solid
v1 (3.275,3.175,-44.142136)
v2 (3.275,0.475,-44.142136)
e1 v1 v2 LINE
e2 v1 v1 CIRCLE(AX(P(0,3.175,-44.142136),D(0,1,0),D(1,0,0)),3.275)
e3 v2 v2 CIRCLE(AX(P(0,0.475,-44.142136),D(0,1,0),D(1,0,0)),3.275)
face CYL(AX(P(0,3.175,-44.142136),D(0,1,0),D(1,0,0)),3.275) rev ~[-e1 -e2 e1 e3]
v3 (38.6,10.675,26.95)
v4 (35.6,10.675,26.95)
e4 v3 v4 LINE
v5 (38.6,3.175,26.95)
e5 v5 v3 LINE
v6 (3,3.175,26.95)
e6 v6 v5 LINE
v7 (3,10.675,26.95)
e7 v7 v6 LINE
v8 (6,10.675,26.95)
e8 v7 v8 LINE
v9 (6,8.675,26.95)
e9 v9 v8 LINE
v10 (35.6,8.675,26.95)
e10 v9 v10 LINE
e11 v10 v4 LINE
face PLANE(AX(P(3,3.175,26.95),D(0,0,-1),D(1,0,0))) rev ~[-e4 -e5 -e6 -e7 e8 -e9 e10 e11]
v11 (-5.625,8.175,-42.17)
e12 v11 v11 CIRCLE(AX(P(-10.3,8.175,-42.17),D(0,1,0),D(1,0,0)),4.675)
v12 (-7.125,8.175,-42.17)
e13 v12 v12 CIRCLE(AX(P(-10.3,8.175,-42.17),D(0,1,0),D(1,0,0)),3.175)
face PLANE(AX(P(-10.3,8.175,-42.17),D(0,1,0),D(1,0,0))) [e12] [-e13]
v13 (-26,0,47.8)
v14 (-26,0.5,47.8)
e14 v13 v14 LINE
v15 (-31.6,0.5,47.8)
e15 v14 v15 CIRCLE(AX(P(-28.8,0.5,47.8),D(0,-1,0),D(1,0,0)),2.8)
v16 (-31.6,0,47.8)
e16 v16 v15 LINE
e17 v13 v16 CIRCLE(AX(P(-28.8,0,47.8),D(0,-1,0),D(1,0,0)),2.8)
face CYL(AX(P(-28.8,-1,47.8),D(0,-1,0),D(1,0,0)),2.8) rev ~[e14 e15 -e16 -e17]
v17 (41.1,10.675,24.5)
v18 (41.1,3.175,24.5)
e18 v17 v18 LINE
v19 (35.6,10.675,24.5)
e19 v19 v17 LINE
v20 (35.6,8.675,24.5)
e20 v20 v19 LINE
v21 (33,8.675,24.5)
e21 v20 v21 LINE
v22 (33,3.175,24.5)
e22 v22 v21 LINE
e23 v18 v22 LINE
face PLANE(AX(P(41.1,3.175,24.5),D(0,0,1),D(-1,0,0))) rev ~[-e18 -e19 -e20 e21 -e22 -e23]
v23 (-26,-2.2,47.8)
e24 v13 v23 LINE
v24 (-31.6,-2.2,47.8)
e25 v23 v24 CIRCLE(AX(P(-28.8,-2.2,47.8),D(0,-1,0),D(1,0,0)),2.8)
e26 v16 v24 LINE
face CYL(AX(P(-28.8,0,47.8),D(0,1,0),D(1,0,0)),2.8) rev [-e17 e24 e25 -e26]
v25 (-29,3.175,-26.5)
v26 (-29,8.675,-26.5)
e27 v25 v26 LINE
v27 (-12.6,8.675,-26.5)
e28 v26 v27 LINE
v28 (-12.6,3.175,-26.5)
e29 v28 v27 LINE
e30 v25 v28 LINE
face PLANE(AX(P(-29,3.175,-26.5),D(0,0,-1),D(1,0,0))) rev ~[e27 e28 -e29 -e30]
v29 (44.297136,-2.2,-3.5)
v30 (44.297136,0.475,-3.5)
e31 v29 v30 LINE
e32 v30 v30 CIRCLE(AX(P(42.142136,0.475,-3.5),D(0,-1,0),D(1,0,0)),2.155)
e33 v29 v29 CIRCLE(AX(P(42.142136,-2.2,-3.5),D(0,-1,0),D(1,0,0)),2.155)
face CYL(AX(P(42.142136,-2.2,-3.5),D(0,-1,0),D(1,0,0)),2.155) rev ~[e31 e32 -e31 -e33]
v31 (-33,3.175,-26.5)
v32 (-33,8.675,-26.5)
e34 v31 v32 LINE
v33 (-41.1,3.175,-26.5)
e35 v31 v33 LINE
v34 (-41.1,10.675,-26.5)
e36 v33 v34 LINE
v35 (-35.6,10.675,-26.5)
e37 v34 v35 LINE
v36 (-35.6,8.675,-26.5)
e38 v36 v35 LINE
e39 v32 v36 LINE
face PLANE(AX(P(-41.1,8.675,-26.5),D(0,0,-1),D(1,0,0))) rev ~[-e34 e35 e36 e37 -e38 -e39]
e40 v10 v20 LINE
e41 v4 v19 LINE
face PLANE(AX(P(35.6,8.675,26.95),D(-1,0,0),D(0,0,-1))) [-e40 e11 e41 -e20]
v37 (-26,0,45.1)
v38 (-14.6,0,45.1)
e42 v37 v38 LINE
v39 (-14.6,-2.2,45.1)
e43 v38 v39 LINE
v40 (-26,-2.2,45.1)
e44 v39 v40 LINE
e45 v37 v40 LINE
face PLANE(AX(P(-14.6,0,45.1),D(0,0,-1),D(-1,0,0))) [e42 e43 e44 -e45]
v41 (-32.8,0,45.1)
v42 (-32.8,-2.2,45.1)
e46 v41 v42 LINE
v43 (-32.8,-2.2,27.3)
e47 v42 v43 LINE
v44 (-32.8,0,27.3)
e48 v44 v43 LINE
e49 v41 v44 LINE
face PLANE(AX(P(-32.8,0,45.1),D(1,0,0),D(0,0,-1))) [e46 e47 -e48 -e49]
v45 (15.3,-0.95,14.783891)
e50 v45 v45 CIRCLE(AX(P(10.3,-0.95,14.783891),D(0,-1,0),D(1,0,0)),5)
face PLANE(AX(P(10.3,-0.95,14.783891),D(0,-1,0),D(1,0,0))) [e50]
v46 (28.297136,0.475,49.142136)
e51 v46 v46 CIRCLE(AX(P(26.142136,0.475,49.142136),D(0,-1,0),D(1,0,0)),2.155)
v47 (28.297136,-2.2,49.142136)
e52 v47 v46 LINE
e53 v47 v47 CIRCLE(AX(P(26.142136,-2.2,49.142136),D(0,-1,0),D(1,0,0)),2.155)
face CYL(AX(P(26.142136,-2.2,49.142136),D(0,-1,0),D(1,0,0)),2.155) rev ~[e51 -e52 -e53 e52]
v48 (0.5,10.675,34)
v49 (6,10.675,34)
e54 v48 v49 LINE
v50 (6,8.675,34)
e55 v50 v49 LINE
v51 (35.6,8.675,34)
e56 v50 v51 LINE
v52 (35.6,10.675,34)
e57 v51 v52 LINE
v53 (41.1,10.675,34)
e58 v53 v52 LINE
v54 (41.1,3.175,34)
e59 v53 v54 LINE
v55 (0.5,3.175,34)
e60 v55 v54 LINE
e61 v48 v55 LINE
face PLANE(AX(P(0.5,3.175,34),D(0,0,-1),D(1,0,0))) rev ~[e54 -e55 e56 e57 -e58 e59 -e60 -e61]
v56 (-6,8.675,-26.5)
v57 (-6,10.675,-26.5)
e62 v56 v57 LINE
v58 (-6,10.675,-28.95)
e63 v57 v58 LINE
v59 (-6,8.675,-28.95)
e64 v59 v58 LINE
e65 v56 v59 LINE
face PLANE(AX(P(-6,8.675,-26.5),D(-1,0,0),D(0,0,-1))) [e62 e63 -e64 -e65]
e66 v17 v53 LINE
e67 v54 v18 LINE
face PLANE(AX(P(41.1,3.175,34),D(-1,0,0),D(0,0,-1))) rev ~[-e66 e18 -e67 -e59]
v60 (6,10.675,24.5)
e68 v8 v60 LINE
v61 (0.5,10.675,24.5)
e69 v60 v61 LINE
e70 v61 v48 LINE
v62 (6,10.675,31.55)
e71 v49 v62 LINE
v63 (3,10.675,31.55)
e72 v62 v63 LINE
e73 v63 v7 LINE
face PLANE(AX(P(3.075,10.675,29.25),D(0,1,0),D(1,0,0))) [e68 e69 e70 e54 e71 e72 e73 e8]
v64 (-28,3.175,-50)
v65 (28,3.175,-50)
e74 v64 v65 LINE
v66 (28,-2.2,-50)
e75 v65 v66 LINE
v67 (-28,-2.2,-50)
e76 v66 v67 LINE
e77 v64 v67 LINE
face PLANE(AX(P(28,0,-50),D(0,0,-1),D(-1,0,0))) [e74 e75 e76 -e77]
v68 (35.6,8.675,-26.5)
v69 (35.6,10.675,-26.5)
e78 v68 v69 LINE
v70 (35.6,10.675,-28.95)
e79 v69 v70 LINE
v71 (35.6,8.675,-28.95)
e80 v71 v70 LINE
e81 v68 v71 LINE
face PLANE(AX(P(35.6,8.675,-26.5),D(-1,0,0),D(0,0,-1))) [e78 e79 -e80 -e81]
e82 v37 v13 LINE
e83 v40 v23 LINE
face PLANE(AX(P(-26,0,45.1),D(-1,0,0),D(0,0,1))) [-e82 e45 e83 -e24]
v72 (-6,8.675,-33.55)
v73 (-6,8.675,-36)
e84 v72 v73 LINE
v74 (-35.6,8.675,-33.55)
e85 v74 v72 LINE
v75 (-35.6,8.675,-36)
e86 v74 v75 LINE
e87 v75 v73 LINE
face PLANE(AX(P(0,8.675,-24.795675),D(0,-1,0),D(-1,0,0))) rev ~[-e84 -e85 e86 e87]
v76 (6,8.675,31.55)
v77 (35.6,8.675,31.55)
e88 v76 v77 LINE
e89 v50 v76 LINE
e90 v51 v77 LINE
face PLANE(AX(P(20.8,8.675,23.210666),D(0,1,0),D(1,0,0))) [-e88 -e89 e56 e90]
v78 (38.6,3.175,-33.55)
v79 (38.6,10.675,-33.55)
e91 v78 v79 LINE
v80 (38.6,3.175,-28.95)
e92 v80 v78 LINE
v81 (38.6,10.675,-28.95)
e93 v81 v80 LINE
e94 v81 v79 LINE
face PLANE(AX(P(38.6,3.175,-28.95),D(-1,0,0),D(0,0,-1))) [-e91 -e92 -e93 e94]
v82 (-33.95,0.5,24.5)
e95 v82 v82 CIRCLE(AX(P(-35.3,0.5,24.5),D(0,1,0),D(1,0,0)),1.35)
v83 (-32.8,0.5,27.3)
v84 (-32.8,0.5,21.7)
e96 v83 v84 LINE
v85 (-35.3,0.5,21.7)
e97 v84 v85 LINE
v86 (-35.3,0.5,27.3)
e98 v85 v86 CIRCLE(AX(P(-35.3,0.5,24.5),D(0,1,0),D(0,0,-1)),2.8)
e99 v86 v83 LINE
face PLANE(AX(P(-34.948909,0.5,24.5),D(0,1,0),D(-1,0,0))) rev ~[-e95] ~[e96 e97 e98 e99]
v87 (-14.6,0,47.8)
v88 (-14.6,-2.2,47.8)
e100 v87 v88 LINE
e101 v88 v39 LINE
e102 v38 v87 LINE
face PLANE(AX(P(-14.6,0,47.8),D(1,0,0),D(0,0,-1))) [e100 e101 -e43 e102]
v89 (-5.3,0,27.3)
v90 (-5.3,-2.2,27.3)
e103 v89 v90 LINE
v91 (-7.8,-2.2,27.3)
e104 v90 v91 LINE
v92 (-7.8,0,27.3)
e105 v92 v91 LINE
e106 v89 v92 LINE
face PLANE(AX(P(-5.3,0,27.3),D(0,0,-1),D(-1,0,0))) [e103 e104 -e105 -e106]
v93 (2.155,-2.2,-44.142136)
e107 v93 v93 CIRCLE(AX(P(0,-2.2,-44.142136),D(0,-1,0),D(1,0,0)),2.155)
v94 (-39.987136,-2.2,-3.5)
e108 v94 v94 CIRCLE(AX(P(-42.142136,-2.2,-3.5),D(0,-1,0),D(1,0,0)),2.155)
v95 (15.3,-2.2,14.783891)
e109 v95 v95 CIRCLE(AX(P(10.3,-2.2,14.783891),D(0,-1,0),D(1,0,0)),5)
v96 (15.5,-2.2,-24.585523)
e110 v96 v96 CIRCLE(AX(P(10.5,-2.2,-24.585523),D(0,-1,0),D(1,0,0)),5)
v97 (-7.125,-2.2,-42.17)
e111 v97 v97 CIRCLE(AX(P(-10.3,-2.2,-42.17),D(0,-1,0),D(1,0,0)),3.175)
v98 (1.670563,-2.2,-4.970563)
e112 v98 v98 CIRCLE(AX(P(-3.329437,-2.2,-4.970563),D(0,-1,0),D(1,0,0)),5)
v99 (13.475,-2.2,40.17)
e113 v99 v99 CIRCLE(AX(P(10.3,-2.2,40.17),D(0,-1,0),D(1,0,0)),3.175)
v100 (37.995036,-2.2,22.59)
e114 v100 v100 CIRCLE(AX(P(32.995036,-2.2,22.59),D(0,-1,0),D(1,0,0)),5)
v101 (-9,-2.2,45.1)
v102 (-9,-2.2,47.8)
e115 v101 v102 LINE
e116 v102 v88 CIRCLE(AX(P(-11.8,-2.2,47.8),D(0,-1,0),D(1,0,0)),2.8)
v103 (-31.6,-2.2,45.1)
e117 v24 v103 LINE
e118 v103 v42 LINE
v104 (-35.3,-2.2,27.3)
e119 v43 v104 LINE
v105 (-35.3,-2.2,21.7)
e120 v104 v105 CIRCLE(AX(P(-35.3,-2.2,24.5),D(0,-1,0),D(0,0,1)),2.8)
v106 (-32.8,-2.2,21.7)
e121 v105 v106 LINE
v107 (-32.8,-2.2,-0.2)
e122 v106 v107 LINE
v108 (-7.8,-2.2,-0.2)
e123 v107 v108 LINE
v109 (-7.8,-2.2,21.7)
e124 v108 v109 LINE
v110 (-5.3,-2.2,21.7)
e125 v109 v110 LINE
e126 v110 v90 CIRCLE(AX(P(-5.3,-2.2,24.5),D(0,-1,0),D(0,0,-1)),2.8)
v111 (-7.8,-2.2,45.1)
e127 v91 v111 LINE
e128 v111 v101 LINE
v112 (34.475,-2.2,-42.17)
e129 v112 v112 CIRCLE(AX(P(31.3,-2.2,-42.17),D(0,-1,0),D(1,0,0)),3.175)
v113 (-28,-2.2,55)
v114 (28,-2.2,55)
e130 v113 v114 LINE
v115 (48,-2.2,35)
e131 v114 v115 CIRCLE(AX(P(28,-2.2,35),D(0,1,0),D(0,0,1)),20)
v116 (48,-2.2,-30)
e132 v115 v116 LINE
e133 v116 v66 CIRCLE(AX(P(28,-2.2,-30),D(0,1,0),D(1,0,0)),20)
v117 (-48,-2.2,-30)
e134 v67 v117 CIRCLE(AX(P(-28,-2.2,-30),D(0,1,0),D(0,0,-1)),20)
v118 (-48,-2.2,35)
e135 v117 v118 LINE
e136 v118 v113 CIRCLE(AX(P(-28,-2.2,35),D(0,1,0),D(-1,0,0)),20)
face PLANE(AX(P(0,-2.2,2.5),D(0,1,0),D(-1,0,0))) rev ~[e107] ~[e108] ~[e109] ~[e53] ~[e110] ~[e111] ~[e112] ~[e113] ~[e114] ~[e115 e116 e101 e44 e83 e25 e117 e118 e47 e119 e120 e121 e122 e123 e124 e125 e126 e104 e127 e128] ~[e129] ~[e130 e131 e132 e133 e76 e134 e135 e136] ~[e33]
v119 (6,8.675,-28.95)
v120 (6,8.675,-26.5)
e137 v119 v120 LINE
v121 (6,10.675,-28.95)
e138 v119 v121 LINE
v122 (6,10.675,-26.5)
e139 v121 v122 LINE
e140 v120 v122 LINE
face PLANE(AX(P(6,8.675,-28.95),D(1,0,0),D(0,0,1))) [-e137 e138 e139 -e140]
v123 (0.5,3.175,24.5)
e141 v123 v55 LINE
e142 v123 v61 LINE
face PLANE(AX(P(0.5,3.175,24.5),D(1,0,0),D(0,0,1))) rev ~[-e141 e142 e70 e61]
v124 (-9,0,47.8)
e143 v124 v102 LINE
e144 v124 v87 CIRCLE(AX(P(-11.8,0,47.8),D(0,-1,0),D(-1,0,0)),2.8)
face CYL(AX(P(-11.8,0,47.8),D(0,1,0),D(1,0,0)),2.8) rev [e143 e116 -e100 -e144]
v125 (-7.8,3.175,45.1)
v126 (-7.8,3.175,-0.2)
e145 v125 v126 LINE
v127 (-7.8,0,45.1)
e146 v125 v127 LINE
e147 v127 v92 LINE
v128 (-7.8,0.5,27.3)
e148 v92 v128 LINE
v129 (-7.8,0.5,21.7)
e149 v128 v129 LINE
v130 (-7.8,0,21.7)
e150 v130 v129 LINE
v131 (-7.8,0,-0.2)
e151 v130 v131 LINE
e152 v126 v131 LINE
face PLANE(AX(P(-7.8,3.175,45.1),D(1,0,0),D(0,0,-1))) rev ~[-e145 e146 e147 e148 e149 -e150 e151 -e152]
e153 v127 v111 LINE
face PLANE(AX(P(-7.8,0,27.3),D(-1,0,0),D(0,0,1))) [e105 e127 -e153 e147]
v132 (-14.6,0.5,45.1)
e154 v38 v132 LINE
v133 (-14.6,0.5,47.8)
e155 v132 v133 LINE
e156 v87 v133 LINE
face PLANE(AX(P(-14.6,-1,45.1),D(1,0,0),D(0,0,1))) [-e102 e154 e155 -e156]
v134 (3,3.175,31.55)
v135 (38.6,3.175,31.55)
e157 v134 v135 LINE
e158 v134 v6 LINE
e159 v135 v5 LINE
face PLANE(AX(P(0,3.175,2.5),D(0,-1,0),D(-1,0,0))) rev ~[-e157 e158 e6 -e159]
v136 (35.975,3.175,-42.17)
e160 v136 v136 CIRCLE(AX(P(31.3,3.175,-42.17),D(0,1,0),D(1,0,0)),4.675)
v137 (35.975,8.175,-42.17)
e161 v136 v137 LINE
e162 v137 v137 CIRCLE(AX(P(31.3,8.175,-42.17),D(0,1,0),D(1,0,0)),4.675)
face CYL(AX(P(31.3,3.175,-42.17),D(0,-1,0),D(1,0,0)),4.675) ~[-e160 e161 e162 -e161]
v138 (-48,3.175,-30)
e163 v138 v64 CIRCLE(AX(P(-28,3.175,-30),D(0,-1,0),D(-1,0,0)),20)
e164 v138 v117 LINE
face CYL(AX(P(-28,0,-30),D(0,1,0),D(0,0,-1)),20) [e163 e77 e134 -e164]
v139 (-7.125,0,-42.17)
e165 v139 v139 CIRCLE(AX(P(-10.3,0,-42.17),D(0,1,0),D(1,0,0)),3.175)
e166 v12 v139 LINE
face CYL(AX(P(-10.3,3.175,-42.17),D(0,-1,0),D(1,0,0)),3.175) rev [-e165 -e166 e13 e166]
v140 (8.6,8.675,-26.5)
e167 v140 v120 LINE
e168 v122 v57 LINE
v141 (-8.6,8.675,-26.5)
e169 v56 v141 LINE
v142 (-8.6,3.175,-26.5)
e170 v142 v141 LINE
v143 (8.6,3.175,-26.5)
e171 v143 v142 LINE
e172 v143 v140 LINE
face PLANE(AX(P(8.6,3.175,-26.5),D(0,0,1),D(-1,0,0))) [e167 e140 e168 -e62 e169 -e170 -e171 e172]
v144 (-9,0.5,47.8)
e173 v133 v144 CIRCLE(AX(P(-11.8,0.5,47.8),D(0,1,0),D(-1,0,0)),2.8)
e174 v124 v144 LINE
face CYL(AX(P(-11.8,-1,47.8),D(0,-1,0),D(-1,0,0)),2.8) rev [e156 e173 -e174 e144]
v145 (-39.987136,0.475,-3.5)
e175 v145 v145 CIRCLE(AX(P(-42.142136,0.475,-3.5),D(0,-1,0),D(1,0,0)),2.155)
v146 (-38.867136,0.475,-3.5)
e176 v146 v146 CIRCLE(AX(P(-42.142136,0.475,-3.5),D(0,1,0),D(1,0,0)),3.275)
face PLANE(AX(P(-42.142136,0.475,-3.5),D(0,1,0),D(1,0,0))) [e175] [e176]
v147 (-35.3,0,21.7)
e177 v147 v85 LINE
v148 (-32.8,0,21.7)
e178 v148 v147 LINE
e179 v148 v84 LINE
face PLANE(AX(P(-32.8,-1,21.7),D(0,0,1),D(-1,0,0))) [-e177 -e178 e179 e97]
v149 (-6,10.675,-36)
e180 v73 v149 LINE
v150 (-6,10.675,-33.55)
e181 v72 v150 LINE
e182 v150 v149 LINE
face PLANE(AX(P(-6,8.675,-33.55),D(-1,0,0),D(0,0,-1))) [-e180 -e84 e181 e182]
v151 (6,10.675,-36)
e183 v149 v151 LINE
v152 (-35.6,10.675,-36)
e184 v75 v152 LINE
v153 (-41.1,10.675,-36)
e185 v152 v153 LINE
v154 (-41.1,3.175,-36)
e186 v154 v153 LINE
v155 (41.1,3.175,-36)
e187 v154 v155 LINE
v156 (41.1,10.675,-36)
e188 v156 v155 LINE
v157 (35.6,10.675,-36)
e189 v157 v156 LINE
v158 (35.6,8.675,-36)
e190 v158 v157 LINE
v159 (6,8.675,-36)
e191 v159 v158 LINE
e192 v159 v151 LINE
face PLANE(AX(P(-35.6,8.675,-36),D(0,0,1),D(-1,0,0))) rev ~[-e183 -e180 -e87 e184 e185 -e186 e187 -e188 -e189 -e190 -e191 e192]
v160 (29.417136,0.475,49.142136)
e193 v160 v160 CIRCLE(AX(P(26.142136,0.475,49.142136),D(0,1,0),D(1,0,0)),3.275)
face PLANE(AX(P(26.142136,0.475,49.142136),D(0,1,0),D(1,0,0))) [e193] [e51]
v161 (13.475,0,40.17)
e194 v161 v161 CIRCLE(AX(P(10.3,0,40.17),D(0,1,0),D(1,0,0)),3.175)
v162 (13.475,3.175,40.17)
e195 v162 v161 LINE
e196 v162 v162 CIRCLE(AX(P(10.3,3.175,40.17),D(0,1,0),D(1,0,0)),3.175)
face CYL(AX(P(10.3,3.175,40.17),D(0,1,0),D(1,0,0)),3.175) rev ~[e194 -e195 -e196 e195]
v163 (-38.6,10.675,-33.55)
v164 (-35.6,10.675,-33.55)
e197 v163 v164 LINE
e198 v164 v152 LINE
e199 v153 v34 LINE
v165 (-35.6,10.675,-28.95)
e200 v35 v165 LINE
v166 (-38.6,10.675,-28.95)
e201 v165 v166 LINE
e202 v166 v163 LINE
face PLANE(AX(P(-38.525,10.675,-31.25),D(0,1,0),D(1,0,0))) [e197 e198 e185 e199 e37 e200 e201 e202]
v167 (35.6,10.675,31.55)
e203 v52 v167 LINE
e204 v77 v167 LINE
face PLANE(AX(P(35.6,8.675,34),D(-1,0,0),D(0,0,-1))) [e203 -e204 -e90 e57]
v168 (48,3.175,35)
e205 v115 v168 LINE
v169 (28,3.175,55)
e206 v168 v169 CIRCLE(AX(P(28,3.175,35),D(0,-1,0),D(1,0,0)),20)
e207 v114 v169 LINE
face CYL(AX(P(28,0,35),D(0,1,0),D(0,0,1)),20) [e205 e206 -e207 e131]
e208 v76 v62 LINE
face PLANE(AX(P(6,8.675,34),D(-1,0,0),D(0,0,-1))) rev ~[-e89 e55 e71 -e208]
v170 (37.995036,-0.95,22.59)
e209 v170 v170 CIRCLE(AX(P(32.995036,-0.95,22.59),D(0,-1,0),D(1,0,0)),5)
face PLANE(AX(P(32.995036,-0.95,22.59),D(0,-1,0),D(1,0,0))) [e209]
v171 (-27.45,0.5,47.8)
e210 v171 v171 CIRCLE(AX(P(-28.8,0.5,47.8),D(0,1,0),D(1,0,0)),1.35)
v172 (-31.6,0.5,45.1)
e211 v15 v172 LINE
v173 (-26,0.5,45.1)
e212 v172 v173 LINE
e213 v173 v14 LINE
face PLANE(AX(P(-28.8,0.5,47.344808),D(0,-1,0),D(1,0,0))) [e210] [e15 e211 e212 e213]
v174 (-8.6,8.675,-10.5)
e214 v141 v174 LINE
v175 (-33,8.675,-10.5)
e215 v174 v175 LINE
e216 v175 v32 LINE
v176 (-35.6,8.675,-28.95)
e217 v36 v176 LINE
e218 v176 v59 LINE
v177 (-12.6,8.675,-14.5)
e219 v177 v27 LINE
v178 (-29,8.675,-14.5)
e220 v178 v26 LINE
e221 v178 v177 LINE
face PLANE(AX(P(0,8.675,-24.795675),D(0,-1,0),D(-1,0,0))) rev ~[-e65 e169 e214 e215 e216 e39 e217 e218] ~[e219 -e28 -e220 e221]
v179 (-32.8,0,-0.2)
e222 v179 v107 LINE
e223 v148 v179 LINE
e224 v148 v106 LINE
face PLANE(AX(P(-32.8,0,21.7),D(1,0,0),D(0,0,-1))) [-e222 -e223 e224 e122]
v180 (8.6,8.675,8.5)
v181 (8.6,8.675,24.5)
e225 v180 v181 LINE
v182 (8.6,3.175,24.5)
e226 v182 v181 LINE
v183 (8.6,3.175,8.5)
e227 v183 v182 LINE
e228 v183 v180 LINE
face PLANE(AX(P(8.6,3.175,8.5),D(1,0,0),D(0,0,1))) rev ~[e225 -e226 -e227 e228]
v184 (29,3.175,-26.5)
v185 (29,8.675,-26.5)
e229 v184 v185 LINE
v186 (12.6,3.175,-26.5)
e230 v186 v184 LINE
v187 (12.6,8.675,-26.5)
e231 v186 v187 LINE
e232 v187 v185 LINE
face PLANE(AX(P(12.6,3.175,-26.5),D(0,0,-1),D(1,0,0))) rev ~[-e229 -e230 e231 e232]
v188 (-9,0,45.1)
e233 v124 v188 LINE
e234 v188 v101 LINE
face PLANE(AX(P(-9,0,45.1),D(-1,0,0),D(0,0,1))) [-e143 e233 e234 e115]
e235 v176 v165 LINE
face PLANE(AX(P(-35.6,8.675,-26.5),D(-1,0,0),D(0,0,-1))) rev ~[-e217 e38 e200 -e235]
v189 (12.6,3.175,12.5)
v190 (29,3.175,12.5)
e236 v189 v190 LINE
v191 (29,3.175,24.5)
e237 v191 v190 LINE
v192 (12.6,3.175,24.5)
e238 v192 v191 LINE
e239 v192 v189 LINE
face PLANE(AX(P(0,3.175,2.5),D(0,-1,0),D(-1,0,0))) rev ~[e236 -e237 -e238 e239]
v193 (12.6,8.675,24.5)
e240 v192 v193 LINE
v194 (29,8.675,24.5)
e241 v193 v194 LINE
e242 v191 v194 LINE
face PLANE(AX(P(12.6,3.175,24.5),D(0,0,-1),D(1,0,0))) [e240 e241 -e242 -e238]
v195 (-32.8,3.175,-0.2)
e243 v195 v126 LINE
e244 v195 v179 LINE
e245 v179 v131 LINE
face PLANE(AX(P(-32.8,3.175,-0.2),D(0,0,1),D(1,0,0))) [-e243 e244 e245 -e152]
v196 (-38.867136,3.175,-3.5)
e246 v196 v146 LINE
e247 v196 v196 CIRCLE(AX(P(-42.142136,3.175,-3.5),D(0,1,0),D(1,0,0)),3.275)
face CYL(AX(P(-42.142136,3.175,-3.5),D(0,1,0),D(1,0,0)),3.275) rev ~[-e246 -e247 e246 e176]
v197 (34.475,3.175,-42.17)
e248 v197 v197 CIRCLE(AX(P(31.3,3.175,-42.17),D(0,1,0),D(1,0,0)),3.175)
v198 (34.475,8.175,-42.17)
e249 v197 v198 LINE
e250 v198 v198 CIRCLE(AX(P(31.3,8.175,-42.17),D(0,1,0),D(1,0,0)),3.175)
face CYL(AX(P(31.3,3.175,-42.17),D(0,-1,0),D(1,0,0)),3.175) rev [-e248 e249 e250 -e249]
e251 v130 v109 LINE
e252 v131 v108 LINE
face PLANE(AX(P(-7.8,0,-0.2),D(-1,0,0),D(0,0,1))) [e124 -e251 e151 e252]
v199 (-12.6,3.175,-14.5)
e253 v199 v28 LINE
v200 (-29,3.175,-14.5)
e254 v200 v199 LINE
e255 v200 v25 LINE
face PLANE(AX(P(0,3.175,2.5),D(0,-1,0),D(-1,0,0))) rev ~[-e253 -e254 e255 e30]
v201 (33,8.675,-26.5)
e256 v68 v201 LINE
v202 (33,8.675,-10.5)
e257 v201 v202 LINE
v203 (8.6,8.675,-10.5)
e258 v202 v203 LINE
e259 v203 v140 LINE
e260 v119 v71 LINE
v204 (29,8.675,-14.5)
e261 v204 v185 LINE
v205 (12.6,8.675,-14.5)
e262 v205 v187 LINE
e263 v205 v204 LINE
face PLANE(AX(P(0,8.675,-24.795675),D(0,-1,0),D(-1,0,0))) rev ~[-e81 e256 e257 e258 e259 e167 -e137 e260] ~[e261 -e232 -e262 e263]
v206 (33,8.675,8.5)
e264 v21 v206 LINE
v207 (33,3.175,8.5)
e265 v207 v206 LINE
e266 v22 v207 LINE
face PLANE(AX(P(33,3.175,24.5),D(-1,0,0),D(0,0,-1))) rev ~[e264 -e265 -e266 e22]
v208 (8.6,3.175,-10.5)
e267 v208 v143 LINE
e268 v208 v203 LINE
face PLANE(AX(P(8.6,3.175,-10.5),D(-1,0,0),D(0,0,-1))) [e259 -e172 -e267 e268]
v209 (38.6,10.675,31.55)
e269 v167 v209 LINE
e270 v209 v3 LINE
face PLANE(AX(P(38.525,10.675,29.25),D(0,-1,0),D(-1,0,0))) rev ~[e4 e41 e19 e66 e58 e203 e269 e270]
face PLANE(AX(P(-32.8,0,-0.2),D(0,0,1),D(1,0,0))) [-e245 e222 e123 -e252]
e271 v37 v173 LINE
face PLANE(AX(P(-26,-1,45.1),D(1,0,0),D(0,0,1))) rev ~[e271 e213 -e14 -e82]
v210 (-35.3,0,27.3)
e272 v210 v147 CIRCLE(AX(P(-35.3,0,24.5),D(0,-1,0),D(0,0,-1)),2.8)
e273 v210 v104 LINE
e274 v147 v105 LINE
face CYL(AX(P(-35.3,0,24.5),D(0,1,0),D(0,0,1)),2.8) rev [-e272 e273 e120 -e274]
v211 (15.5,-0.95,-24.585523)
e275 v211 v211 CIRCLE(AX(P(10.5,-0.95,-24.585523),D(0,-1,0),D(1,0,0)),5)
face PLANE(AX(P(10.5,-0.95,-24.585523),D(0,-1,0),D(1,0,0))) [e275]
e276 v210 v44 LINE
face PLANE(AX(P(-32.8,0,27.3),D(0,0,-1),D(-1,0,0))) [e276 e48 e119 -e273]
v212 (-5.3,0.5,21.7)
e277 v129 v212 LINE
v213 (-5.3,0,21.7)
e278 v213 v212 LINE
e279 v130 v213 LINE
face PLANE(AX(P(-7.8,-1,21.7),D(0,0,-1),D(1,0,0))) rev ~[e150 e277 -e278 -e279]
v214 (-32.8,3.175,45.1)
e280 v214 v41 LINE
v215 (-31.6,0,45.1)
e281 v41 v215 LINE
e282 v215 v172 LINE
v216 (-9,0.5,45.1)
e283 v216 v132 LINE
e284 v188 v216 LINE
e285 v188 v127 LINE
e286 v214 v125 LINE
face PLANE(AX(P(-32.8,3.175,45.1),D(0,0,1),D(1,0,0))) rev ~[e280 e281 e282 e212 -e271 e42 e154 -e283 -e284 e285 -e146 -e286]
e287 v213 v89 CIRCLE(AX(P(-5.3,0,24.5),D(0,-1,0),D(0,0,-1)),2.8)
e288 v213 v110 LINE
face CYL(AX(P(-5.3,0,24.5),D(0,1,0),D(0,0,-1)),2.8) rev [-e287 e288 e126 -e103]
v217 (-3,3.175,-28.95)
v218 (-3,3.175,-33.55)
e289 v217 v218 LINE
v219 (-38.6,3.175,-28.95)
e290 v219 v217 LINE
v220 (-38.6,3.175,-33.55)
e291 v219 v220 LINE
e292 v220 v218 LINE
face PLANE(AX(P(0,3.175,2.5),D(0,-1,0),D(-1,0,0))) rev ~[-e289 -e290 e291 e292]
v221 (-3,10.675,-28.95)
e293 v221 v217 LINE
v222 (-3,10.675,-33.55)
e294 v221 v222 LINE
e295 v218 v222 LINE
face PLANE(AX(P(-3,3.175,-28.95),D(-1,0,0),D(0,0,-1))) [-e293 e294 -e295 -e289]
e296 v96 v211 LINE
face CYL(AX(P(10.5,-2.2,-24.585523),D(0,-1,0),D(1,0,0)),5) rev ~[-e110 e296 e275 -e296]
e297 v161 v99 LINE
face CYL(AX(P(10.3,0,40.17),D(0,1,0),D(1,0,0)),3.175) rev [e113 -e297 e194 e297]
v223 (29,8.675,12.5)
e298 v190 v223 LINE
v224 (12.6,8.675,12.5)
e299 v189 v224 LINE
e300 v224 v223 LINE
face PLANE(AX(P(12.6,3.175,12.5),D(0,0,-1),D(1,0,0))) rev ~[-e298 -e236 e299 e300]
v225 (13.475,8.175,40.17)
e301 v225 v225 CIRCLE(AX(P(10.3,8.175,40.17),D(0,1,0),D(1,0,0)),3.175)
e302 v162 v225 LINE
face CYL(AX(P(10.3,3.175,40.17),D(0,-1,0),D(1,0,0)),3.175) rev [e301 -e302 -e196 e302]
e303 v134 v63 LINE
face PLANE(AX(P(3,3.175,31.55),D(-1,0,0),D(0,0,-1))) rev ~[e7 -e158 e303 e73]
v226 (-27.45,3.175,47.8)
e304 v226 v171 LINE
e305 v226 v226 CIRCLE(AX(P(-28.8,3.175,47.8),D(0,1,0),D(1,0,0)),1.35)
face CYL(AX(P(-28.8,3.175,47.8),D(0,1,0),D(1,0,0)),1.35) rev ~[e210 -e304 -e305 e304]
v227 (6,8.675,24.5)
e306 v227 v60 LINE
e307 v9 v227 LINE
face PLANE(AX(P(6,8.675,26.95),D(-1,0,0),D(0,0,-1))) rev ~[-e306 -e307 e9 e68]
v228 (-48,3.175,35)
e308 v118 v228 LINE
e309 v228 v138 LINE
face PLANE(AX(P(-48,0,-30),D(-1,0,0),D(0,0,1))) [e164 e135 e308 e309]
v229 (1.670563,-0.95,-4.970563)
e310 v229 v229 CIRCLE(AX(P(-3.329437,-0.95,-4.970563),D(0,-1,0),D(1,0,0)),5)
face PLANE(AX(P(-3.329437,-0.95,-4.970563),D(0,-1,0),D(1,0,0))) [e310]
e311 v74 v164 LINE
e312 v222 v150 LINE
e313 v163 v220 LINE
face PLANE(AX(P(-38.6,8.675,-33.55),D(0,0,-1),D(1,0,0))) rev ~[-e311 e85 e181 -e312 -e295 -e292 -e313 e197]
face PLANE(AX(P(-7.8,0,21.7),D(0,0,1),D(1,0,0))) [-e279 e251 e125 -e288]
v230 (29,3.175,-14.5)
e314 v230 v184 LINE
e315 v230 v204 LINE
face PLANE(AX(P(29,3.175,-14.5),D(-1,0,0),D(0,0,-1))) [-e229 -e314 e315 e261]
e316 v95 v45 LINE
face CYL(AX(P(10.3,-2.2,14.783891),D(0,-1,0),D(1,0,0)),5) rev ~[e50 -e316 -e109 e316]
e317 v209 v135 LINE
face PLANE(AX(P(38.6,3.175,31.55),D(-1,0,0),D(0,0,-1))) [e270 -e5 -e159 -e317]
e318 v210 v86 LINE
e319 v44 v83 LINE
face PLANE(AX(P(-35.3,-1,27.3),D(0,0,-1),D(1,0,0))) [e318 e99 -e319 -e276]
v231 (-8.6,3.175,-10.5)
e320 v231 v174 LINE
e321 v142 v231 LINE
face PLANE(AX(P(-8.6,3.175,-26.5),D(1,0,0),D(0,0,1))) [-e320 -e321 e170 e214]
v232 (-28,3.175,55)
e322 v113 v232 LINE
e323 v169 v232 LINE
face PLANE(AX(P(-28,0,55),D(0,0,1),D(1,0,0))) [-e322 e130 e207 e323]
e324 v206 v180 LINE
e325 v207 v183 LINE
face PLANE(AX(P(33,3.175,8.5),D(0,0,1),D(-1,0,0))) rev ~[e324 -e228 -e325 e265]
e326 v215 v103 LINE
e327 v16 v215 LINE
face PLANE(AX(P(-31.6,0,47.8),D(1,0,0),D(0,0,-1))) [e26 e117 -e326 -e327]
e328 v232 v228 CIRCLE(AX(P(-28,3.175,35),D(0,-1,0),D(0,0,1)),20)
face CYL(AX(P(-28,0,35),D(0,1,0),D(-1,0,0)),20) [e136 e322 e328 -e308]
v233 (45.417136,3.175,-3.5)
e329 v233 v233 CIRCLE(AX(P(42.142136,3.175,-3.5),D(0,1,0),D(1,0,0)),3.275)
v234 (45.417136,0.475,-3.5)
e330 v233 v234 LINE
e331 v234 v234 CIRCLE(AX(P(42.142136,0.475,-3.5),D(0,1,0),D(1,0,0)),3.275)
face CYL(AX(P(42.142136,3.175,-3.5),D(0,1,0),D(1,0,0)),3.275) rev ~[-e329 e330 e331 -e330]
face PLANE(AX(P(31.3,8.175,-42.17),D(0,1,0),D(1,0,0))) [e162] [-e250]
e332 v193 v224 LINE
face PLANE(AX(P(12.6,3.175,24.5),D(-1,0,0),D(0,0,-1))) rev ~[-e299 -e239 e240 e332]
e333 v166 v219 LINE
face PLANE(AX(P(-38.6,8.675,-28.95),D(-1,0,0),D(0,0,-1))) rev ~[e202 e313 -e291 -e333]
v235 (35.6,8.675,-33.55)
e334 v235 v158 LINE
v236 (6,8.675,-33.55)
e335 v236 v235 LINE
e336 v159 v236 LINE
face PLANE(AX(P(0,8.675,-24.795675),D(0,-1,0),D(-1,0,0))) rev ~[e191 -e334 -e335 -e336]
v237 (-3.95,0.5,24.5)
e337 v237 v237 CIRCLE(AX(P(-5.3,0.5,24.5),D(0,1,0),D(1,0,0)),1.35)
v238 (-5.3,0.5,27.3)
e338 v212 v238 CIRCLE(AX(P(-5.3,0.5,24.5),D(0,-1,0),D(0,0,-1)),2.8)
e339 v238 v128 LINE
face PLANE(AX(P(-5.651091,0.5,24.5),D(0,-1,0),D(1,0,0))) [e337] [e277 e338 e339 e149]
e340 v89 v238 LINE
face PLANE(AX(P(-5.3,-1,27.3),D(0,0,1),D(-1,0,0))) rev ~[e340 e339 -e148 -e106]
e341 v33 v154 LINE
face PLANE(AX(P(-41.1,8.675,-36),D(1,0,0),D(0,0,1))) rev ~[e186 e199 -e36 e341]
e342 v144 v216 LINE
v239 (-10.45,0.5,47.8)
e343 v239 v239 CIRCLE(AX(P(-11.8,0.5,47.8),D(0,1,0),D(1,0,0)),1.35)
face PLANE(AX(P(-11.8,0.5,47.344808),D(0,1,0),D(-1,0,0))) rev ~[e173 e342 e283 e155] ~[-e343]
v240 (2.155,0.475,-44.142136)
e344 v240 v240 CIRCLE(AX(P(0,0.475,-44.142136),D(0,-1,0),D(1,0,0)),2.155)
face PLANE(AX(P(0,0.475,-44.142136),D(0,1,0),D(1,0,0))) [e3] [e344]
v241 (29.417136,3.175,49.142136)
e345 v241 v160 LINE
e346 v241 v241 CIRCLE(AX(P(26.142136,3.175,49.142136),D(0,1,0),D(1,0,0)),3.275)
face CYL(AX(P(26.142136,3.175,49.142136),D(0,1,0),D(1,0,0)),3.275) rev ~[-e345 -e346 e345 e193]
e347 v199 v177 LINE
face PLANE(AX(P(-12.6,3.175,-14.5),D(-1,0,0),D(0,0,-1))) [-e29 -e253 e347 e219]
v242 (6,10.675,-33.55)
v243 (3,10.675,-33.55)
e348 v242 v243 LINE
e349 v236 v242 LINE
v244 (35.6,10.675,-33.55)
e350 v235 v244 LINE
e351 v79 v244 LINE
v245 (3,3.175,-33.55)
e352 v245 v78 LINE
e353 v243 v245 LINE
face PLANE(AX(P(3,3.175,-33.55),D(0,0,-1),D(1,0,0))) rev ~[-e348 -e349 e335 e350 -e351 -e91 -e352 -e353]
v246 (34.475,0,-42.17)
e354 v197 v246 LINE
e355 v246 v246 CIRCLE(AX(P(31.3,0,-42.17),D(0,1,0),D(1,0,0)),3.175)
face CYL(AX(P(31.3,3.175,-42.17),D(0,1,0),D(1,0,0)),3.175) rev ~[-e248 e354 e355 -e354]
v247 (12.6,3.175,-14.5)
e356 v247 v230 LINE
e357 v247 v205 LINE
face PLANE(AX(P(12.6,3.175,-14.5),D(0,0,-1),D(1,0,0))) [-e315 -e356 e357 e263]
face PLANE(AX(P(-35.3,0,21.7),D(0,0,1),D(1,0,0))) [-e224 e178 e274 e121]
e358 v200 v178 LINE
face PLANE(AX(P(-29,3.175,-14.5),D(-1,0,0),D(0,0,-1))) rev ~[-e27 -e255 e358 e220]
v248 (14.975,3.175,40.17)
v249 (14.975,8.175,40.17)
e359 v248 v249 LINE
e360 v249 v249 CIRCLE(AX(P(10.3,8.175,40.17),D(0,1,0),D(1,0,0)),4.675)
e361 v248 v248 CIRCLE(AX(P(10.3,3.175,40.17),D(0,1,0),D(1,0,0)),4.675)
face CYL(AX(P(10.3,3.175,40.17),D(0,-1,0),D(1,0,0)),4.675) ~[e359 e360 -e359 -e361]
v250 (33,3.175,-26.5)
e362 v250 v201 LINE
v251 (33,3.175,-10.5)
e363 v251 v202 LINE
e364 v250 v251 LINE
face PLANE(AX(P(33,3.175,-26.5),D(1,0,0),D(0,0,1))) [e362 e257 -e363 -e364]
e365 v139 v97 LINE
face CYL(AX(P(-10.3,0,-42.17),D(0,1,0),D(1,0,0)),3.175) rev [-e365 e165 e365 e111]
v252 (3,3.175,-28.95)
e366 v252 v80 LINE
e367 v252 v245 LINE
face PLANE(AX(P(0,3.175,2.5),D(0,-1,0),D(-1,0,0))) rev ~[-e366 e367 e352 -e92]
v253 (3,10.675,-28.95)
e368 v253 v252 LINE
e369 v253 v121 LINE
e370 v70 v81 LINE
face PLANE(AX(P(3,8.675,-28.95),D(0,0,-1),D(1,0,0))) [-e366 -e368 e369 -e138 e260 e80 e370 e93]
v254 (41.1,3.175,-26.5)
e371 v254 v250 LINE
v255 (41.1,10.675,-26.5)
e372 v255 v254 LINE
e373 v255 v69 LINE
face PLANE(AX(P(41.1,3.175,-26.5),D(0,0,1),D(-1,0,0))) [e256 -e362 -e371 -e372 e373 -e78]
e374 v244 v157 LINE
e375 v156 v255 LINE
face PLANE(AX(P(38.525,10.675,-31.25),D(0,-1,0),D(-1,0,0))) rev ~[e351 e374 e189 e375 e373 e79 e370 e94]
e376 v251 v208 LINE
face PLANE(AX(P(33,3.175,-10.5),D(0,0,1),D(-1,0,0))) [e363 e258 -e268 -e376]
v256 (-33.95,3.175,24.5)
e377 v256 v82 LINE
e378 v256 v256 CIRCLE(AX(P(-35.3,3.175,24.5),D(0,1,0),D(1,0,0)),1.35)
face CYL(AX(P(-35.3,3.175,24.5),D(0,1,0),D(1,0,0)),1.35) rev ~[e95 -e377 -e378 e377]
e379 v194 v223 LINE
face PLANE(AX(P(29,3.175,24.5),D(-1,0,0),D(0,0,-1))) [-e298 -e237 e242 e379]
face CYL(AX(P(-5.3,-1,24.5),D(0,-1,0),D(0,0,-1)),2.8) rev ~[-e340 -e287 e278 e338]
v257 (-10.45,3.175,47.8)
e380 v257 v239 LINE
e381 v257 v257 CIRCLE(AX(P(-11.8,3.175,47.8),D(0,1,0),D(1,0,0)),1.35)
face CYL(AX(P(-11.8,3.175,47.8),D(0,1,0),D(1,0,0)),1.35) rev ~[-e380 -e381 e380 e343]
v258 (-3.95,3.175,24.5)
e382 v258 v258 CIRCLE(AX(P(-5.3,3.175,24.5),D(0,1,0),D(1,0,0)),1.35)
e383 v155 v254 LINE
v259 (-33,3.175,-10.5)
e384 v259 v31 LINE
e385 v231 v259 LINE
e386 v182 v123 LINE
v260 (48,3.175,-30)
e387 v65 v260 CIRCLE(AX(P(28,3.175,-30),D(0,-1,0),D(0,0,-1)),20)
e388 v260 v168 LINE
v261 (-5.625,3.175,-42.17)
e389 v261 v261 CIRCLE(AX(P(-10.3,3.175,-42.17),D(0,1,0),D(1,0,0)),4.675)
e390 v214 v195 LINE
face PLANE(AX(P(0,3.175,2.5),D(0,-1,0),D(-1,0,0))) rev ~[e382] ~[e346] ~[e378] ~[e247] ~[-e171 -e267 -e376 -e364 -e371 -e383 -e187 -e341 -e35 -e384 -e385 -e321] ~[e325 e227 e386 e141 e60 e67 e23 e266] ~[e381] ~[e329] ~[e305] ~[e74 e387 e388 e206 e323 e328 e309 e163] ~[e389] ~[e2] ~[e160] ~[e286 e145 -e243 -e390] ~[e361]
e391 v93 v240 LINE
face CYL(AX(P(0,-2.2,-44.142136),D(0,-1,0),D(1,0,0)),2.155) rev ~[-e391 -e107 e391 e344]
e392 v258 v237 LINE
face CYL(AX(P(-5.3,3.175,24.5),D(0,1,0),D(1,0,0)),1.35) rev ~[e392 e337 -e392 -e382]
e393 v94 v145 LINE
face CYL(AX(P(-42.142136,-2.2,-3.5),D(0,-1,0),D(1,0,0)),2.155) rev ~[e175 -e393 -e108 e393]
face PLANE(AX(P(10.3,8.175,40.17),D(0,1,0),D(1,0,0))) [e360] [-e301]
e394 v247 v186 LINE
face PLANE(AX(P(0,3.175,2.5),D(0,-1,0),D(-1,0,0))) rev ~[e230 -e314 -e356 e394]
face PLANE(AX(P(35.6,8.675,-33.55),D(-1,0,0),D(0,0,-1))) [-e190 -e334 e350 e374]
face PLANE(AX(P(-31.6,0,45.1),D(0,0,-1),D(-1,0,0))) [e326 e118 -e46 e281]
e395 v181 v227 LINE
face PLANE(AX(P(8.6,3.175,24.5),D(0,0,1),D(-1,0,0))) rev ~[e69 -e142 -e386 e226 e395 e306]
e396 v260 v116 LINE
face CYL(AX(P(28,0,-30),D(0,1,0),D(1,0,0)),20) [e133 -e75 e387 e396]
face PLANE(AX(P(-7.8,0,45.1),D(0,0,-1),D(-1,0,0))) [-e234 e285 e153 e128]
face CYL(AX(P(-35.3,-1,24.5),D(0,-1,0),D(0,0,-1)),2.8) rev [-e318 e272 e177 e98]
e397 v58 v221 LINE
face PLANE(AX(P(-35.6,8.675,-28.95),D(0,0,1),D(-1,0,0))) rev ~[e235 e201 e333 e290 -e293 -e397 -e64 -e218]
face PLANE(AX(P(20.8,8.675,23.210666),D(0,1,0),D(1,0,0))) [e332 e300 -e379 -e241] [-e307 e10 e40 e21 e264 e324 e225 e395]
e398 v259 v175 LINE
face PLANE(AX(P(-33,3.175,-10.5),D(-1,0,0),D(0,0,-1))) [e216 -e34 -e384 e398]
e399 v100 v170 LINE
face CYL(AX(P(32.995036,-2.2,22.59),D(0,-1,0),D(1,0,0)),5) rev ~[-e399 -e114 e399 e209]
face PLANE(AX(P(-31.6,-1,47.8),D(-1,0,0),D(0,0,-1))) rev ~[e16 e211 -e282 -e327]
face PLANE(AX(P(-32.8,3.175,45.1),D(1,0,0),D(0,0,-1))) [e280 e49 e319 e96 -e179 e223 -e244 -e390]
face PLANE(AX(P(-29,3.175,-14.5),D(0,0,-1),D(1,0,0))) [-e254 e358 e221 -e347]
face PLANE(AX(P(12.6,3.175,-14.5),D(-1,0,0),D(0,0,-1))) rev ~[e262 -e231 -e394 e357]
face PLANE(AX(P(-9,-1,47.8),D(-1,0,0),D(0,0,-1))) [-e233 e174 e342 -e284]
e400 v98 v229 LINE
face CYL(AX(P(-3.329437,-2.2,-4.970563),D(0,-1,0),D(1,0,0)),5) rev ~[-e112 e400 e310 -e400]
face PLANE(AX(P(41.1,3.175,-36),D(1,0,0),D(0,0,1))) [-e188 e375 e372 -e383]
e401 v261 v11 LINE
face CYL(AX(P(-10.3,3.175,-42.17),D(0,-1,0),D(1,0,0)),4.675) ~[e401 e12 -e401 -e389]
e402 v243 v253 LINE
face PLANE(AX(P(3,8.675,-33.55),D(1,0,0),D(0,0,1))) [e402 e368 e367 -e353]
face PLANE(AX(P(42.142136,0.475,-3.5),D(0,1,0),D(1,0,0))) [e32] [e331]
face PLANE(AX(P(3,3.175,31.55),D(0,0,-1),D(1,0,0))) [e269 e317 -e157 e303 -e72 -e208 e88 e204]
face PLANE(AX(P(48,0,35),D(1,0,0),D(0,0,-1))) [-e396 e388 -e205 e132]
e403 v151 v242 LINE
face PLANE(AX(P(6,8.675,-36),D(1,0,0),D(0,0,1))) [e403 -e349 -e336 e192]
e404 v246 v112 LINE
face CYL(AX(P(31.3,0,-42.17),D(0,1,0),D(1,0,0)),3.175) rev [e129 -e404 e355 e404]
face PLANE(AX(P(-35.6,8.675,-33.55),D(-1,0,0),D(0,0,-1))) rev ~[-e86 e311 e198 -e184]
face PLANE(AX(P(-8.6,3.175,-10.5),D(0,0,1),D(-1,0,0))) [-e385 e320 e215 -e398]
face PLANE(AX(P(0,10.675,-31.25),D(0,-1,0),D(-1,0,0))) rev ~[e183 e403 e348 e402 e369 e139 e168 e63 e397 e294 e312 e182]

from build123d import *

# Parameters (mm, degrees)
W_TOP_DEPTH                  = 3.175
SKETCH3_W                    = 16.4
SKETCH3_H                    = 12
SKETCH3_W_2                  = 35.6
SKETCH3_H_2                  = 4.6
A_HOLDERS_DEPTH              = 5.5
A_CLAMP_DEPTH                = 2
SKETCH12_R                   = 1.35
SKETCH12_W                   = 25
SKETCH12_H                   = 45.3
A_HOLES_DEPTH                = 3.175
A_HOLES_START                = 1
A_HOLES_GUIDE_DEPTH          = 1.5
SKETCH15_R                   = 3.175
TENDON_HOLES_DEPTH           = 3.175
SKETCH16_R                   = 4.675
SKETCH16_R_2                 = 3.175
TUBE_SUPPORT_DEPTH           = 5
SKETCH19_R                   = 3.175
THICKNESS_COMPENSATION_DEPTH = 2.2
SKETCH18_R                   = 5
GEAR_PLACEMENTS_DEPTH        = 1.25
SKETCH20_R                   = 2.155
SCREW_HOLES_DEPTH            = 5.375
SKETCH21_R                   = 3.275
STANDOFF_HOLE_DEPTH          = 2.7


with BuildPart() as part:
    # Sketch1 → w_top (new body)
    with BuildSketch(Plane(origin=(0, 0, 0), x_dir=(1, 0, 0), z_dir=(0, 1, 0))):
        with BuildLine():
            Line((-48, -35), (-48, 30))
            ThreePointArc((-48, 30), (-42.142135624, 44.142135624), (-28, 50))
            Line((-28, 50), (28, 50))
            ThreePointArc((28, 50), (42.142135624, 44.142135624), (48, 30))
            Line((48, 30), (48, -35))
            ThreePointArc((48, -35), (42.142135624, -49.142135624), (28, -55))
            Line((28, -55), (-28, -55))
            ThreePointArc((-28, -55), (-42.142135624, -49.142135624), (-48, -35))
        make_face()
    extrude(amount=W_TOP_DEPTH)

    # Sketch3 → a_holders (add)
    with BuildSketch(Plane(origin=(0, 3.175, 0), x_dir=(1, 0, 0), z_dir=(0, 1, 0))):
        Polygon((0.5, -24.5), (0.5, -34), (41.1, -34), (41.1, -24.5), (33, -24.5), (33, -8.5), (8.6, -8.5), (8.6, -24.5), align=None)
        with Locations((20.8, -18.5)):
            Rectangle(SKETCH3_W, SKETCH3_H, mode=Mode.SUBTRACT)
        with Locations((20.8, -29.25)):
            Rectangle(SKETCH3_W_2, SKETCH3_H_2, mode=Mode.SUBTRACT)
        Polygon((8.6, 26.5), (-8.6, 26.5), (-8.6, 10.5), (-33, 10.5), (-33, 26.5), (-41.1, 26.5), (-41.1, 36), (41.1, 36), (41.1, 26.5), (33, 26.5), (33, 10.5), (8.6, 10.5), align=None)
        with Locations((20.8, 20.5)):
            Rectangle(SKETCH3_W, SKETCH3_H, mode=Mode.SUBTRACT)
        with Locations((-20.8, 20.5)):
            Rectangle(SKETCH3_W, SKETCH3_H, mode=Mode.SUBTRACT)
        with Locations((-20.8, 31.25)):
            Rectangle(SKETCH3_W_2, SKETCH3_H_2, mode=Mode.SUBTRACT)
        with Locations((20.8, 31.25)):
            Rectangle(SKETCH3_W_2, SKETCH3_H_2, mode=Mode.SUBTRACT)
    extrude(amount=A_HOLDERS_DEPTH)

    # Sketch14 → a_clamp (add)
    with BuildSketch(Plane(origin=(0, 8.675, 0), x_dir=(1, 0, 0), z_dir=(0, 1, 0))):
        Polygon((-35.6, 33.55), (-35.6, 36), (-41.1, 36), (-41.1, 26.5), (-35.6, 26.5), (-35.6, 28.95), (-38.6, 28.95), (-38.6, 33.55), align=None)
        Polygon((6, -24.5), (0.5, -24.5), (0.5, -34), (6, -34), (6, -31.55), (3, -31.55), (3, -26.95), (6, -26.95), align=None)
        Polygon((-3, 33.55), (-6, 33.55), (-6, 36), (6, 36), (6, 33.55), (3, 33.55), (3, 28.95), (6, 28.95), (6, 26.5), (-6, 26.5), (-6, 28.95), (-3, 28.95), align=None)
        Polygon((38.6, 33.55), (35.6, 33.55), (35.6, 36), (41.1, 36), (41.1, 26.5), (35.6, 26.5), (35.6, 28.95), (38.6, 28.95), align=None)
        Polygon((35.6, -26.95), (35.6, -24.5), (41.1, -24.5), (41.1, -34), (35.6, -34), (35.6, -31.55), (38.6, -31.55), (38.6, -26.95), align=None)
    extrude(amount=A_CLAMP_DEPTH)

    # Sketch12 → a_holes (cut)
    with BuildSketch(Plane(origin=(0, 3.175, 0), x_dir=(1, 0, 0), z_dir=(0, 1, 0))):
        with Locations((-28.8, -47.8)):
            Circle(SKETCH12_R)
        with Locations((-11.8, -47.8)):
            Circle(SKETCH12_R)
        with Locations((-35.3, -24.5)):
            Circle(SKETCH12_R)
        with Locations((-5.3, -24.5)):
            Circle(SKETCH12_R)
        with Locations((-20.3, -22.45)):
            Rectangle(SKETCH12_W, SKETCH12_H)
    extrude(amount=-A_HOLES_DEPTH, mode=Mode.SUBTRACT)

    # Sketch13 → a_holes guide (cut)
    with BuildSketch(Plane.XZ.offset(A_HOLES_START)):
        with BuildLine():
            Line((-31.6, 47.8), (-31.6, 45.1))
            Line((-31.6, 45.1), (-26, 45.1))
            Line((-26, 45.1), (-26, 47.8))
            ThreePointArc((-26, 47.8), (-28.8, 50.6), (-31.6, 47.8))
        make_face()
        with BuildLine():
            Line((-35.3, 27.3), (-32.8, 27.3))
            Line((-32.8, 27.3), (-32.8, 21.7))
            Line((-32.8, 21.7), (-35.3, 21.7))
            ThreePointArc((-35.3, 21.7), (-38.1, 24.5), (-35.3, 27.3))
        make_face()
        with BuildLine():
            Line((-7.8, 21.7), (-5.3, 21.7))
            ThreePointArc((-5.3, 21.7), (-2.5, 24.5), (-5.3, 27.3))
            Line((-5.3, 27.3), (-7.8, 27.3))
            Line((-7.8, 27.3), (-7.8, 21.7))
        make_face()
        with BuildLine():
            Line((-14.6, 45.1), (-14.6, 47.8))
            ThreePointArc((-14.6, 47.8), (-11.8, 50.6), (-9, 47.8))
            Line((-9, 47.8), (-9, 45.1))
            Line((-9, 45.1), (-14.6, 45.1))
        make_face()
    extrude(amount=-A_HOLES_GUIDE_DEPTH, mode=Mode.SUBTRACT)

    # Sketch15 → tendon holes (cut)
    with BuildSketch(Plane(origin=(0, 3.175, 0), x_dir=(1, 0, 0), z_dir=(0, 1, 0))):
        with Locations((-10.3, 42.17)):
            Circle(SKETCH15_R)
        with Locations((31.3, 42.17)):
            Circle(SKETCH15_R)
        with Locations((10.3, -40.17)):
            Circle(SKETCH15_R)
    extrude(amount=-TENDON_HOLES_DEPTH, mode=Mode.SUBTRACT)

    # Sketch16 → tube_support (add)
    with BuildSketch(Plane(origin=(0, 3.175, 0), x_dir=(1, 0, 0), z_dir=(0, 1, 0))):
        with Locations((-10.3, 42.17)):
            Circle(SKETCH16_R)
        with Locations((-10.3, 42.17)):
            Circle(SKETCH16_R_2, mode=Mode.SUBTRACT)
        with Locations((31.3, 42.17)):
            Circle(SKETCH16_R)
        with Locations((31.3, 42.17)):
            Circle(SKETCH16_R_2, mode=Mode.SUBTRACT)
        with Locations((10.3, -40.17)):
            Circle(SKETCH16_R)
        with Locations((10.3, -40.17)):
            Circle(SKETCH16_R_2, mode=Mode.SUBTRACT)
    extrude(amount=TUBE_SUPPORT_DEPTH)

    # Sketch19 → thickness compensation (add)
    with BuildSketch(Plane.XZ):
        with BuildLine():
            Line((-48, -30), (-48, 35))
            ThreePointArc((-48, 35), (-42.142135624, 49.142135624), (-28, 55))
            Line((-28, 55), (28, 55))
            ThreePointArc((28, 55), (42.142135624, 49.142135624), (48, 35))
            Line((48, 35), (48, -30))
            ThreePointArc((48, -30), (42.142135624, -44.142135624), (28, -50))
            Line((28, -50), (-28, -50))
            ThreePointArc((-28, -50), (-42.142135624, -44.142135624), (-48, -30))
        make_face()
        with Locations((10.3, 40.17)):
            Circle(SKETCH19_R, mode=Mode.SUBTRACT)
        with Locations((-10.3, -42.17)):
            Circle(SKETCH19_R, mode=Mode.SUBTRACT)
        with Locations((31.3, -42.17)):
            Circle(SKETCH19_R, mode=Mode.SUBTRACT)
        with BuildLine():
            Line((-32.8, -0.2), (-7.8, -0.2))
            Line((-7.8, -0.2), (-7.8, 21.7))
            Line((-7.8, 21.7), (-5.3, 21.7))
            ThreePointArc((-5.3, 21.7), (-2.5, 24.5), (-5.3, 27.3))
            Line((-5.3, 27.3), (-7.8, 27.3))
            Line((-7.8, 27.3), (-7.8, 45.1))
            Line((-7.8, 45.1), (-9, 45.1))
            Line((-9, 45.1), (-9, 47.8))
            ThreePointArc((-9, 47.8), (-11.8, 50.6), (-14.6, 47.8))
            Line((-14.6, 47.8), (-14.6, 45.1))
            Line((-14.6, 45.1), (-26, 45.1))
            Line((-26, 45.1), (-26, 47.8))
            ThreePointArc((-26, 47.8), (-28.8, 50.6), (-31.6, 47.8))
            Line((-31.6, 47.8), (-31.6, 45.1))
            Line((-31.6, 45.1), (-32.8, 45.1))
            Line((-32.8, 45.1), (-32.8, 27.3))
            Line((-32.8, 27.3), (-35.3, 27.3))
            ThreePointArc((-35.3, 27.3), (-38.1, 24.5), (-35.3, 21.7))
            Line((-35.3, 21.7), (-32.8, 21.7))
            Line((-32.8, 21.7), (-32.8, -0.2))
        make_face(mode=Mode.SUBTRACT)
    extrude(amount=THICKNESS_COMPENSATION_DEPTH)

    # Sketch18 → gear placements (cut)
    with BuildSketch(Plane.XZ.offset(2.2)):
        with Locations((-3.329437252, -4.970562748)):
            Circle(SKETCH18_R)
        with Locations((10.3, 14.783890932)):
            Circle(SKETCH18_R)
        with Locations((32.995036048, 22.59)):
            Circle(SKETCH18_R)
        with Locations((10.5, -24.585522991)):
            Circle(SKETCH18_R)
    extrude(amount=-GEAR_PLACEMENTS_DEPTH, mode=Mode.SUBTRACT)

    # Sketch20 → screw holes (cut)
    with BuildSketch(Plane.XZ.offset(2.2)):
        with Locations((-42.142135624, -3.5)):
            Circle(SKETCH20_R)
        with Locations((0, -44.142135624)):
            Circle(SKETCH20_R)
        with Locations((42.142135624, -3.5)):
            Circle(SKETCH20_R)
        with Locations((26.142135624, 49.142135624)):
            Circle(SKETCH20_R)
    extrude(amount=-SCREW_HOLES_DEPTH, mode=Mode.SUBTRACT)

    # Sketch21 → standoff hole (cut)
    with BuildSketch(Plane(origin=(0, 3.175, 0), x_dir=(1, 0, 0), z_dir=(0, 1, 0))):
        with Locations((-42.142135624, 3.5)):
            Circle(SKETCH21_R)
        with Locations((42.142135624, 3.5)):
            Circle(SKETCH21_R)
        with Locations((0, 44.142135624)):
            Circle(SKETCH21_R)
        with Locations((26.142135624, -49.142135624)):
            Circle(SKETCH21_R)
    extrude(amount=-STANDOFF_HOLE_DEPTH, mode=Mode.SUBTRACT)


solid = part.part
